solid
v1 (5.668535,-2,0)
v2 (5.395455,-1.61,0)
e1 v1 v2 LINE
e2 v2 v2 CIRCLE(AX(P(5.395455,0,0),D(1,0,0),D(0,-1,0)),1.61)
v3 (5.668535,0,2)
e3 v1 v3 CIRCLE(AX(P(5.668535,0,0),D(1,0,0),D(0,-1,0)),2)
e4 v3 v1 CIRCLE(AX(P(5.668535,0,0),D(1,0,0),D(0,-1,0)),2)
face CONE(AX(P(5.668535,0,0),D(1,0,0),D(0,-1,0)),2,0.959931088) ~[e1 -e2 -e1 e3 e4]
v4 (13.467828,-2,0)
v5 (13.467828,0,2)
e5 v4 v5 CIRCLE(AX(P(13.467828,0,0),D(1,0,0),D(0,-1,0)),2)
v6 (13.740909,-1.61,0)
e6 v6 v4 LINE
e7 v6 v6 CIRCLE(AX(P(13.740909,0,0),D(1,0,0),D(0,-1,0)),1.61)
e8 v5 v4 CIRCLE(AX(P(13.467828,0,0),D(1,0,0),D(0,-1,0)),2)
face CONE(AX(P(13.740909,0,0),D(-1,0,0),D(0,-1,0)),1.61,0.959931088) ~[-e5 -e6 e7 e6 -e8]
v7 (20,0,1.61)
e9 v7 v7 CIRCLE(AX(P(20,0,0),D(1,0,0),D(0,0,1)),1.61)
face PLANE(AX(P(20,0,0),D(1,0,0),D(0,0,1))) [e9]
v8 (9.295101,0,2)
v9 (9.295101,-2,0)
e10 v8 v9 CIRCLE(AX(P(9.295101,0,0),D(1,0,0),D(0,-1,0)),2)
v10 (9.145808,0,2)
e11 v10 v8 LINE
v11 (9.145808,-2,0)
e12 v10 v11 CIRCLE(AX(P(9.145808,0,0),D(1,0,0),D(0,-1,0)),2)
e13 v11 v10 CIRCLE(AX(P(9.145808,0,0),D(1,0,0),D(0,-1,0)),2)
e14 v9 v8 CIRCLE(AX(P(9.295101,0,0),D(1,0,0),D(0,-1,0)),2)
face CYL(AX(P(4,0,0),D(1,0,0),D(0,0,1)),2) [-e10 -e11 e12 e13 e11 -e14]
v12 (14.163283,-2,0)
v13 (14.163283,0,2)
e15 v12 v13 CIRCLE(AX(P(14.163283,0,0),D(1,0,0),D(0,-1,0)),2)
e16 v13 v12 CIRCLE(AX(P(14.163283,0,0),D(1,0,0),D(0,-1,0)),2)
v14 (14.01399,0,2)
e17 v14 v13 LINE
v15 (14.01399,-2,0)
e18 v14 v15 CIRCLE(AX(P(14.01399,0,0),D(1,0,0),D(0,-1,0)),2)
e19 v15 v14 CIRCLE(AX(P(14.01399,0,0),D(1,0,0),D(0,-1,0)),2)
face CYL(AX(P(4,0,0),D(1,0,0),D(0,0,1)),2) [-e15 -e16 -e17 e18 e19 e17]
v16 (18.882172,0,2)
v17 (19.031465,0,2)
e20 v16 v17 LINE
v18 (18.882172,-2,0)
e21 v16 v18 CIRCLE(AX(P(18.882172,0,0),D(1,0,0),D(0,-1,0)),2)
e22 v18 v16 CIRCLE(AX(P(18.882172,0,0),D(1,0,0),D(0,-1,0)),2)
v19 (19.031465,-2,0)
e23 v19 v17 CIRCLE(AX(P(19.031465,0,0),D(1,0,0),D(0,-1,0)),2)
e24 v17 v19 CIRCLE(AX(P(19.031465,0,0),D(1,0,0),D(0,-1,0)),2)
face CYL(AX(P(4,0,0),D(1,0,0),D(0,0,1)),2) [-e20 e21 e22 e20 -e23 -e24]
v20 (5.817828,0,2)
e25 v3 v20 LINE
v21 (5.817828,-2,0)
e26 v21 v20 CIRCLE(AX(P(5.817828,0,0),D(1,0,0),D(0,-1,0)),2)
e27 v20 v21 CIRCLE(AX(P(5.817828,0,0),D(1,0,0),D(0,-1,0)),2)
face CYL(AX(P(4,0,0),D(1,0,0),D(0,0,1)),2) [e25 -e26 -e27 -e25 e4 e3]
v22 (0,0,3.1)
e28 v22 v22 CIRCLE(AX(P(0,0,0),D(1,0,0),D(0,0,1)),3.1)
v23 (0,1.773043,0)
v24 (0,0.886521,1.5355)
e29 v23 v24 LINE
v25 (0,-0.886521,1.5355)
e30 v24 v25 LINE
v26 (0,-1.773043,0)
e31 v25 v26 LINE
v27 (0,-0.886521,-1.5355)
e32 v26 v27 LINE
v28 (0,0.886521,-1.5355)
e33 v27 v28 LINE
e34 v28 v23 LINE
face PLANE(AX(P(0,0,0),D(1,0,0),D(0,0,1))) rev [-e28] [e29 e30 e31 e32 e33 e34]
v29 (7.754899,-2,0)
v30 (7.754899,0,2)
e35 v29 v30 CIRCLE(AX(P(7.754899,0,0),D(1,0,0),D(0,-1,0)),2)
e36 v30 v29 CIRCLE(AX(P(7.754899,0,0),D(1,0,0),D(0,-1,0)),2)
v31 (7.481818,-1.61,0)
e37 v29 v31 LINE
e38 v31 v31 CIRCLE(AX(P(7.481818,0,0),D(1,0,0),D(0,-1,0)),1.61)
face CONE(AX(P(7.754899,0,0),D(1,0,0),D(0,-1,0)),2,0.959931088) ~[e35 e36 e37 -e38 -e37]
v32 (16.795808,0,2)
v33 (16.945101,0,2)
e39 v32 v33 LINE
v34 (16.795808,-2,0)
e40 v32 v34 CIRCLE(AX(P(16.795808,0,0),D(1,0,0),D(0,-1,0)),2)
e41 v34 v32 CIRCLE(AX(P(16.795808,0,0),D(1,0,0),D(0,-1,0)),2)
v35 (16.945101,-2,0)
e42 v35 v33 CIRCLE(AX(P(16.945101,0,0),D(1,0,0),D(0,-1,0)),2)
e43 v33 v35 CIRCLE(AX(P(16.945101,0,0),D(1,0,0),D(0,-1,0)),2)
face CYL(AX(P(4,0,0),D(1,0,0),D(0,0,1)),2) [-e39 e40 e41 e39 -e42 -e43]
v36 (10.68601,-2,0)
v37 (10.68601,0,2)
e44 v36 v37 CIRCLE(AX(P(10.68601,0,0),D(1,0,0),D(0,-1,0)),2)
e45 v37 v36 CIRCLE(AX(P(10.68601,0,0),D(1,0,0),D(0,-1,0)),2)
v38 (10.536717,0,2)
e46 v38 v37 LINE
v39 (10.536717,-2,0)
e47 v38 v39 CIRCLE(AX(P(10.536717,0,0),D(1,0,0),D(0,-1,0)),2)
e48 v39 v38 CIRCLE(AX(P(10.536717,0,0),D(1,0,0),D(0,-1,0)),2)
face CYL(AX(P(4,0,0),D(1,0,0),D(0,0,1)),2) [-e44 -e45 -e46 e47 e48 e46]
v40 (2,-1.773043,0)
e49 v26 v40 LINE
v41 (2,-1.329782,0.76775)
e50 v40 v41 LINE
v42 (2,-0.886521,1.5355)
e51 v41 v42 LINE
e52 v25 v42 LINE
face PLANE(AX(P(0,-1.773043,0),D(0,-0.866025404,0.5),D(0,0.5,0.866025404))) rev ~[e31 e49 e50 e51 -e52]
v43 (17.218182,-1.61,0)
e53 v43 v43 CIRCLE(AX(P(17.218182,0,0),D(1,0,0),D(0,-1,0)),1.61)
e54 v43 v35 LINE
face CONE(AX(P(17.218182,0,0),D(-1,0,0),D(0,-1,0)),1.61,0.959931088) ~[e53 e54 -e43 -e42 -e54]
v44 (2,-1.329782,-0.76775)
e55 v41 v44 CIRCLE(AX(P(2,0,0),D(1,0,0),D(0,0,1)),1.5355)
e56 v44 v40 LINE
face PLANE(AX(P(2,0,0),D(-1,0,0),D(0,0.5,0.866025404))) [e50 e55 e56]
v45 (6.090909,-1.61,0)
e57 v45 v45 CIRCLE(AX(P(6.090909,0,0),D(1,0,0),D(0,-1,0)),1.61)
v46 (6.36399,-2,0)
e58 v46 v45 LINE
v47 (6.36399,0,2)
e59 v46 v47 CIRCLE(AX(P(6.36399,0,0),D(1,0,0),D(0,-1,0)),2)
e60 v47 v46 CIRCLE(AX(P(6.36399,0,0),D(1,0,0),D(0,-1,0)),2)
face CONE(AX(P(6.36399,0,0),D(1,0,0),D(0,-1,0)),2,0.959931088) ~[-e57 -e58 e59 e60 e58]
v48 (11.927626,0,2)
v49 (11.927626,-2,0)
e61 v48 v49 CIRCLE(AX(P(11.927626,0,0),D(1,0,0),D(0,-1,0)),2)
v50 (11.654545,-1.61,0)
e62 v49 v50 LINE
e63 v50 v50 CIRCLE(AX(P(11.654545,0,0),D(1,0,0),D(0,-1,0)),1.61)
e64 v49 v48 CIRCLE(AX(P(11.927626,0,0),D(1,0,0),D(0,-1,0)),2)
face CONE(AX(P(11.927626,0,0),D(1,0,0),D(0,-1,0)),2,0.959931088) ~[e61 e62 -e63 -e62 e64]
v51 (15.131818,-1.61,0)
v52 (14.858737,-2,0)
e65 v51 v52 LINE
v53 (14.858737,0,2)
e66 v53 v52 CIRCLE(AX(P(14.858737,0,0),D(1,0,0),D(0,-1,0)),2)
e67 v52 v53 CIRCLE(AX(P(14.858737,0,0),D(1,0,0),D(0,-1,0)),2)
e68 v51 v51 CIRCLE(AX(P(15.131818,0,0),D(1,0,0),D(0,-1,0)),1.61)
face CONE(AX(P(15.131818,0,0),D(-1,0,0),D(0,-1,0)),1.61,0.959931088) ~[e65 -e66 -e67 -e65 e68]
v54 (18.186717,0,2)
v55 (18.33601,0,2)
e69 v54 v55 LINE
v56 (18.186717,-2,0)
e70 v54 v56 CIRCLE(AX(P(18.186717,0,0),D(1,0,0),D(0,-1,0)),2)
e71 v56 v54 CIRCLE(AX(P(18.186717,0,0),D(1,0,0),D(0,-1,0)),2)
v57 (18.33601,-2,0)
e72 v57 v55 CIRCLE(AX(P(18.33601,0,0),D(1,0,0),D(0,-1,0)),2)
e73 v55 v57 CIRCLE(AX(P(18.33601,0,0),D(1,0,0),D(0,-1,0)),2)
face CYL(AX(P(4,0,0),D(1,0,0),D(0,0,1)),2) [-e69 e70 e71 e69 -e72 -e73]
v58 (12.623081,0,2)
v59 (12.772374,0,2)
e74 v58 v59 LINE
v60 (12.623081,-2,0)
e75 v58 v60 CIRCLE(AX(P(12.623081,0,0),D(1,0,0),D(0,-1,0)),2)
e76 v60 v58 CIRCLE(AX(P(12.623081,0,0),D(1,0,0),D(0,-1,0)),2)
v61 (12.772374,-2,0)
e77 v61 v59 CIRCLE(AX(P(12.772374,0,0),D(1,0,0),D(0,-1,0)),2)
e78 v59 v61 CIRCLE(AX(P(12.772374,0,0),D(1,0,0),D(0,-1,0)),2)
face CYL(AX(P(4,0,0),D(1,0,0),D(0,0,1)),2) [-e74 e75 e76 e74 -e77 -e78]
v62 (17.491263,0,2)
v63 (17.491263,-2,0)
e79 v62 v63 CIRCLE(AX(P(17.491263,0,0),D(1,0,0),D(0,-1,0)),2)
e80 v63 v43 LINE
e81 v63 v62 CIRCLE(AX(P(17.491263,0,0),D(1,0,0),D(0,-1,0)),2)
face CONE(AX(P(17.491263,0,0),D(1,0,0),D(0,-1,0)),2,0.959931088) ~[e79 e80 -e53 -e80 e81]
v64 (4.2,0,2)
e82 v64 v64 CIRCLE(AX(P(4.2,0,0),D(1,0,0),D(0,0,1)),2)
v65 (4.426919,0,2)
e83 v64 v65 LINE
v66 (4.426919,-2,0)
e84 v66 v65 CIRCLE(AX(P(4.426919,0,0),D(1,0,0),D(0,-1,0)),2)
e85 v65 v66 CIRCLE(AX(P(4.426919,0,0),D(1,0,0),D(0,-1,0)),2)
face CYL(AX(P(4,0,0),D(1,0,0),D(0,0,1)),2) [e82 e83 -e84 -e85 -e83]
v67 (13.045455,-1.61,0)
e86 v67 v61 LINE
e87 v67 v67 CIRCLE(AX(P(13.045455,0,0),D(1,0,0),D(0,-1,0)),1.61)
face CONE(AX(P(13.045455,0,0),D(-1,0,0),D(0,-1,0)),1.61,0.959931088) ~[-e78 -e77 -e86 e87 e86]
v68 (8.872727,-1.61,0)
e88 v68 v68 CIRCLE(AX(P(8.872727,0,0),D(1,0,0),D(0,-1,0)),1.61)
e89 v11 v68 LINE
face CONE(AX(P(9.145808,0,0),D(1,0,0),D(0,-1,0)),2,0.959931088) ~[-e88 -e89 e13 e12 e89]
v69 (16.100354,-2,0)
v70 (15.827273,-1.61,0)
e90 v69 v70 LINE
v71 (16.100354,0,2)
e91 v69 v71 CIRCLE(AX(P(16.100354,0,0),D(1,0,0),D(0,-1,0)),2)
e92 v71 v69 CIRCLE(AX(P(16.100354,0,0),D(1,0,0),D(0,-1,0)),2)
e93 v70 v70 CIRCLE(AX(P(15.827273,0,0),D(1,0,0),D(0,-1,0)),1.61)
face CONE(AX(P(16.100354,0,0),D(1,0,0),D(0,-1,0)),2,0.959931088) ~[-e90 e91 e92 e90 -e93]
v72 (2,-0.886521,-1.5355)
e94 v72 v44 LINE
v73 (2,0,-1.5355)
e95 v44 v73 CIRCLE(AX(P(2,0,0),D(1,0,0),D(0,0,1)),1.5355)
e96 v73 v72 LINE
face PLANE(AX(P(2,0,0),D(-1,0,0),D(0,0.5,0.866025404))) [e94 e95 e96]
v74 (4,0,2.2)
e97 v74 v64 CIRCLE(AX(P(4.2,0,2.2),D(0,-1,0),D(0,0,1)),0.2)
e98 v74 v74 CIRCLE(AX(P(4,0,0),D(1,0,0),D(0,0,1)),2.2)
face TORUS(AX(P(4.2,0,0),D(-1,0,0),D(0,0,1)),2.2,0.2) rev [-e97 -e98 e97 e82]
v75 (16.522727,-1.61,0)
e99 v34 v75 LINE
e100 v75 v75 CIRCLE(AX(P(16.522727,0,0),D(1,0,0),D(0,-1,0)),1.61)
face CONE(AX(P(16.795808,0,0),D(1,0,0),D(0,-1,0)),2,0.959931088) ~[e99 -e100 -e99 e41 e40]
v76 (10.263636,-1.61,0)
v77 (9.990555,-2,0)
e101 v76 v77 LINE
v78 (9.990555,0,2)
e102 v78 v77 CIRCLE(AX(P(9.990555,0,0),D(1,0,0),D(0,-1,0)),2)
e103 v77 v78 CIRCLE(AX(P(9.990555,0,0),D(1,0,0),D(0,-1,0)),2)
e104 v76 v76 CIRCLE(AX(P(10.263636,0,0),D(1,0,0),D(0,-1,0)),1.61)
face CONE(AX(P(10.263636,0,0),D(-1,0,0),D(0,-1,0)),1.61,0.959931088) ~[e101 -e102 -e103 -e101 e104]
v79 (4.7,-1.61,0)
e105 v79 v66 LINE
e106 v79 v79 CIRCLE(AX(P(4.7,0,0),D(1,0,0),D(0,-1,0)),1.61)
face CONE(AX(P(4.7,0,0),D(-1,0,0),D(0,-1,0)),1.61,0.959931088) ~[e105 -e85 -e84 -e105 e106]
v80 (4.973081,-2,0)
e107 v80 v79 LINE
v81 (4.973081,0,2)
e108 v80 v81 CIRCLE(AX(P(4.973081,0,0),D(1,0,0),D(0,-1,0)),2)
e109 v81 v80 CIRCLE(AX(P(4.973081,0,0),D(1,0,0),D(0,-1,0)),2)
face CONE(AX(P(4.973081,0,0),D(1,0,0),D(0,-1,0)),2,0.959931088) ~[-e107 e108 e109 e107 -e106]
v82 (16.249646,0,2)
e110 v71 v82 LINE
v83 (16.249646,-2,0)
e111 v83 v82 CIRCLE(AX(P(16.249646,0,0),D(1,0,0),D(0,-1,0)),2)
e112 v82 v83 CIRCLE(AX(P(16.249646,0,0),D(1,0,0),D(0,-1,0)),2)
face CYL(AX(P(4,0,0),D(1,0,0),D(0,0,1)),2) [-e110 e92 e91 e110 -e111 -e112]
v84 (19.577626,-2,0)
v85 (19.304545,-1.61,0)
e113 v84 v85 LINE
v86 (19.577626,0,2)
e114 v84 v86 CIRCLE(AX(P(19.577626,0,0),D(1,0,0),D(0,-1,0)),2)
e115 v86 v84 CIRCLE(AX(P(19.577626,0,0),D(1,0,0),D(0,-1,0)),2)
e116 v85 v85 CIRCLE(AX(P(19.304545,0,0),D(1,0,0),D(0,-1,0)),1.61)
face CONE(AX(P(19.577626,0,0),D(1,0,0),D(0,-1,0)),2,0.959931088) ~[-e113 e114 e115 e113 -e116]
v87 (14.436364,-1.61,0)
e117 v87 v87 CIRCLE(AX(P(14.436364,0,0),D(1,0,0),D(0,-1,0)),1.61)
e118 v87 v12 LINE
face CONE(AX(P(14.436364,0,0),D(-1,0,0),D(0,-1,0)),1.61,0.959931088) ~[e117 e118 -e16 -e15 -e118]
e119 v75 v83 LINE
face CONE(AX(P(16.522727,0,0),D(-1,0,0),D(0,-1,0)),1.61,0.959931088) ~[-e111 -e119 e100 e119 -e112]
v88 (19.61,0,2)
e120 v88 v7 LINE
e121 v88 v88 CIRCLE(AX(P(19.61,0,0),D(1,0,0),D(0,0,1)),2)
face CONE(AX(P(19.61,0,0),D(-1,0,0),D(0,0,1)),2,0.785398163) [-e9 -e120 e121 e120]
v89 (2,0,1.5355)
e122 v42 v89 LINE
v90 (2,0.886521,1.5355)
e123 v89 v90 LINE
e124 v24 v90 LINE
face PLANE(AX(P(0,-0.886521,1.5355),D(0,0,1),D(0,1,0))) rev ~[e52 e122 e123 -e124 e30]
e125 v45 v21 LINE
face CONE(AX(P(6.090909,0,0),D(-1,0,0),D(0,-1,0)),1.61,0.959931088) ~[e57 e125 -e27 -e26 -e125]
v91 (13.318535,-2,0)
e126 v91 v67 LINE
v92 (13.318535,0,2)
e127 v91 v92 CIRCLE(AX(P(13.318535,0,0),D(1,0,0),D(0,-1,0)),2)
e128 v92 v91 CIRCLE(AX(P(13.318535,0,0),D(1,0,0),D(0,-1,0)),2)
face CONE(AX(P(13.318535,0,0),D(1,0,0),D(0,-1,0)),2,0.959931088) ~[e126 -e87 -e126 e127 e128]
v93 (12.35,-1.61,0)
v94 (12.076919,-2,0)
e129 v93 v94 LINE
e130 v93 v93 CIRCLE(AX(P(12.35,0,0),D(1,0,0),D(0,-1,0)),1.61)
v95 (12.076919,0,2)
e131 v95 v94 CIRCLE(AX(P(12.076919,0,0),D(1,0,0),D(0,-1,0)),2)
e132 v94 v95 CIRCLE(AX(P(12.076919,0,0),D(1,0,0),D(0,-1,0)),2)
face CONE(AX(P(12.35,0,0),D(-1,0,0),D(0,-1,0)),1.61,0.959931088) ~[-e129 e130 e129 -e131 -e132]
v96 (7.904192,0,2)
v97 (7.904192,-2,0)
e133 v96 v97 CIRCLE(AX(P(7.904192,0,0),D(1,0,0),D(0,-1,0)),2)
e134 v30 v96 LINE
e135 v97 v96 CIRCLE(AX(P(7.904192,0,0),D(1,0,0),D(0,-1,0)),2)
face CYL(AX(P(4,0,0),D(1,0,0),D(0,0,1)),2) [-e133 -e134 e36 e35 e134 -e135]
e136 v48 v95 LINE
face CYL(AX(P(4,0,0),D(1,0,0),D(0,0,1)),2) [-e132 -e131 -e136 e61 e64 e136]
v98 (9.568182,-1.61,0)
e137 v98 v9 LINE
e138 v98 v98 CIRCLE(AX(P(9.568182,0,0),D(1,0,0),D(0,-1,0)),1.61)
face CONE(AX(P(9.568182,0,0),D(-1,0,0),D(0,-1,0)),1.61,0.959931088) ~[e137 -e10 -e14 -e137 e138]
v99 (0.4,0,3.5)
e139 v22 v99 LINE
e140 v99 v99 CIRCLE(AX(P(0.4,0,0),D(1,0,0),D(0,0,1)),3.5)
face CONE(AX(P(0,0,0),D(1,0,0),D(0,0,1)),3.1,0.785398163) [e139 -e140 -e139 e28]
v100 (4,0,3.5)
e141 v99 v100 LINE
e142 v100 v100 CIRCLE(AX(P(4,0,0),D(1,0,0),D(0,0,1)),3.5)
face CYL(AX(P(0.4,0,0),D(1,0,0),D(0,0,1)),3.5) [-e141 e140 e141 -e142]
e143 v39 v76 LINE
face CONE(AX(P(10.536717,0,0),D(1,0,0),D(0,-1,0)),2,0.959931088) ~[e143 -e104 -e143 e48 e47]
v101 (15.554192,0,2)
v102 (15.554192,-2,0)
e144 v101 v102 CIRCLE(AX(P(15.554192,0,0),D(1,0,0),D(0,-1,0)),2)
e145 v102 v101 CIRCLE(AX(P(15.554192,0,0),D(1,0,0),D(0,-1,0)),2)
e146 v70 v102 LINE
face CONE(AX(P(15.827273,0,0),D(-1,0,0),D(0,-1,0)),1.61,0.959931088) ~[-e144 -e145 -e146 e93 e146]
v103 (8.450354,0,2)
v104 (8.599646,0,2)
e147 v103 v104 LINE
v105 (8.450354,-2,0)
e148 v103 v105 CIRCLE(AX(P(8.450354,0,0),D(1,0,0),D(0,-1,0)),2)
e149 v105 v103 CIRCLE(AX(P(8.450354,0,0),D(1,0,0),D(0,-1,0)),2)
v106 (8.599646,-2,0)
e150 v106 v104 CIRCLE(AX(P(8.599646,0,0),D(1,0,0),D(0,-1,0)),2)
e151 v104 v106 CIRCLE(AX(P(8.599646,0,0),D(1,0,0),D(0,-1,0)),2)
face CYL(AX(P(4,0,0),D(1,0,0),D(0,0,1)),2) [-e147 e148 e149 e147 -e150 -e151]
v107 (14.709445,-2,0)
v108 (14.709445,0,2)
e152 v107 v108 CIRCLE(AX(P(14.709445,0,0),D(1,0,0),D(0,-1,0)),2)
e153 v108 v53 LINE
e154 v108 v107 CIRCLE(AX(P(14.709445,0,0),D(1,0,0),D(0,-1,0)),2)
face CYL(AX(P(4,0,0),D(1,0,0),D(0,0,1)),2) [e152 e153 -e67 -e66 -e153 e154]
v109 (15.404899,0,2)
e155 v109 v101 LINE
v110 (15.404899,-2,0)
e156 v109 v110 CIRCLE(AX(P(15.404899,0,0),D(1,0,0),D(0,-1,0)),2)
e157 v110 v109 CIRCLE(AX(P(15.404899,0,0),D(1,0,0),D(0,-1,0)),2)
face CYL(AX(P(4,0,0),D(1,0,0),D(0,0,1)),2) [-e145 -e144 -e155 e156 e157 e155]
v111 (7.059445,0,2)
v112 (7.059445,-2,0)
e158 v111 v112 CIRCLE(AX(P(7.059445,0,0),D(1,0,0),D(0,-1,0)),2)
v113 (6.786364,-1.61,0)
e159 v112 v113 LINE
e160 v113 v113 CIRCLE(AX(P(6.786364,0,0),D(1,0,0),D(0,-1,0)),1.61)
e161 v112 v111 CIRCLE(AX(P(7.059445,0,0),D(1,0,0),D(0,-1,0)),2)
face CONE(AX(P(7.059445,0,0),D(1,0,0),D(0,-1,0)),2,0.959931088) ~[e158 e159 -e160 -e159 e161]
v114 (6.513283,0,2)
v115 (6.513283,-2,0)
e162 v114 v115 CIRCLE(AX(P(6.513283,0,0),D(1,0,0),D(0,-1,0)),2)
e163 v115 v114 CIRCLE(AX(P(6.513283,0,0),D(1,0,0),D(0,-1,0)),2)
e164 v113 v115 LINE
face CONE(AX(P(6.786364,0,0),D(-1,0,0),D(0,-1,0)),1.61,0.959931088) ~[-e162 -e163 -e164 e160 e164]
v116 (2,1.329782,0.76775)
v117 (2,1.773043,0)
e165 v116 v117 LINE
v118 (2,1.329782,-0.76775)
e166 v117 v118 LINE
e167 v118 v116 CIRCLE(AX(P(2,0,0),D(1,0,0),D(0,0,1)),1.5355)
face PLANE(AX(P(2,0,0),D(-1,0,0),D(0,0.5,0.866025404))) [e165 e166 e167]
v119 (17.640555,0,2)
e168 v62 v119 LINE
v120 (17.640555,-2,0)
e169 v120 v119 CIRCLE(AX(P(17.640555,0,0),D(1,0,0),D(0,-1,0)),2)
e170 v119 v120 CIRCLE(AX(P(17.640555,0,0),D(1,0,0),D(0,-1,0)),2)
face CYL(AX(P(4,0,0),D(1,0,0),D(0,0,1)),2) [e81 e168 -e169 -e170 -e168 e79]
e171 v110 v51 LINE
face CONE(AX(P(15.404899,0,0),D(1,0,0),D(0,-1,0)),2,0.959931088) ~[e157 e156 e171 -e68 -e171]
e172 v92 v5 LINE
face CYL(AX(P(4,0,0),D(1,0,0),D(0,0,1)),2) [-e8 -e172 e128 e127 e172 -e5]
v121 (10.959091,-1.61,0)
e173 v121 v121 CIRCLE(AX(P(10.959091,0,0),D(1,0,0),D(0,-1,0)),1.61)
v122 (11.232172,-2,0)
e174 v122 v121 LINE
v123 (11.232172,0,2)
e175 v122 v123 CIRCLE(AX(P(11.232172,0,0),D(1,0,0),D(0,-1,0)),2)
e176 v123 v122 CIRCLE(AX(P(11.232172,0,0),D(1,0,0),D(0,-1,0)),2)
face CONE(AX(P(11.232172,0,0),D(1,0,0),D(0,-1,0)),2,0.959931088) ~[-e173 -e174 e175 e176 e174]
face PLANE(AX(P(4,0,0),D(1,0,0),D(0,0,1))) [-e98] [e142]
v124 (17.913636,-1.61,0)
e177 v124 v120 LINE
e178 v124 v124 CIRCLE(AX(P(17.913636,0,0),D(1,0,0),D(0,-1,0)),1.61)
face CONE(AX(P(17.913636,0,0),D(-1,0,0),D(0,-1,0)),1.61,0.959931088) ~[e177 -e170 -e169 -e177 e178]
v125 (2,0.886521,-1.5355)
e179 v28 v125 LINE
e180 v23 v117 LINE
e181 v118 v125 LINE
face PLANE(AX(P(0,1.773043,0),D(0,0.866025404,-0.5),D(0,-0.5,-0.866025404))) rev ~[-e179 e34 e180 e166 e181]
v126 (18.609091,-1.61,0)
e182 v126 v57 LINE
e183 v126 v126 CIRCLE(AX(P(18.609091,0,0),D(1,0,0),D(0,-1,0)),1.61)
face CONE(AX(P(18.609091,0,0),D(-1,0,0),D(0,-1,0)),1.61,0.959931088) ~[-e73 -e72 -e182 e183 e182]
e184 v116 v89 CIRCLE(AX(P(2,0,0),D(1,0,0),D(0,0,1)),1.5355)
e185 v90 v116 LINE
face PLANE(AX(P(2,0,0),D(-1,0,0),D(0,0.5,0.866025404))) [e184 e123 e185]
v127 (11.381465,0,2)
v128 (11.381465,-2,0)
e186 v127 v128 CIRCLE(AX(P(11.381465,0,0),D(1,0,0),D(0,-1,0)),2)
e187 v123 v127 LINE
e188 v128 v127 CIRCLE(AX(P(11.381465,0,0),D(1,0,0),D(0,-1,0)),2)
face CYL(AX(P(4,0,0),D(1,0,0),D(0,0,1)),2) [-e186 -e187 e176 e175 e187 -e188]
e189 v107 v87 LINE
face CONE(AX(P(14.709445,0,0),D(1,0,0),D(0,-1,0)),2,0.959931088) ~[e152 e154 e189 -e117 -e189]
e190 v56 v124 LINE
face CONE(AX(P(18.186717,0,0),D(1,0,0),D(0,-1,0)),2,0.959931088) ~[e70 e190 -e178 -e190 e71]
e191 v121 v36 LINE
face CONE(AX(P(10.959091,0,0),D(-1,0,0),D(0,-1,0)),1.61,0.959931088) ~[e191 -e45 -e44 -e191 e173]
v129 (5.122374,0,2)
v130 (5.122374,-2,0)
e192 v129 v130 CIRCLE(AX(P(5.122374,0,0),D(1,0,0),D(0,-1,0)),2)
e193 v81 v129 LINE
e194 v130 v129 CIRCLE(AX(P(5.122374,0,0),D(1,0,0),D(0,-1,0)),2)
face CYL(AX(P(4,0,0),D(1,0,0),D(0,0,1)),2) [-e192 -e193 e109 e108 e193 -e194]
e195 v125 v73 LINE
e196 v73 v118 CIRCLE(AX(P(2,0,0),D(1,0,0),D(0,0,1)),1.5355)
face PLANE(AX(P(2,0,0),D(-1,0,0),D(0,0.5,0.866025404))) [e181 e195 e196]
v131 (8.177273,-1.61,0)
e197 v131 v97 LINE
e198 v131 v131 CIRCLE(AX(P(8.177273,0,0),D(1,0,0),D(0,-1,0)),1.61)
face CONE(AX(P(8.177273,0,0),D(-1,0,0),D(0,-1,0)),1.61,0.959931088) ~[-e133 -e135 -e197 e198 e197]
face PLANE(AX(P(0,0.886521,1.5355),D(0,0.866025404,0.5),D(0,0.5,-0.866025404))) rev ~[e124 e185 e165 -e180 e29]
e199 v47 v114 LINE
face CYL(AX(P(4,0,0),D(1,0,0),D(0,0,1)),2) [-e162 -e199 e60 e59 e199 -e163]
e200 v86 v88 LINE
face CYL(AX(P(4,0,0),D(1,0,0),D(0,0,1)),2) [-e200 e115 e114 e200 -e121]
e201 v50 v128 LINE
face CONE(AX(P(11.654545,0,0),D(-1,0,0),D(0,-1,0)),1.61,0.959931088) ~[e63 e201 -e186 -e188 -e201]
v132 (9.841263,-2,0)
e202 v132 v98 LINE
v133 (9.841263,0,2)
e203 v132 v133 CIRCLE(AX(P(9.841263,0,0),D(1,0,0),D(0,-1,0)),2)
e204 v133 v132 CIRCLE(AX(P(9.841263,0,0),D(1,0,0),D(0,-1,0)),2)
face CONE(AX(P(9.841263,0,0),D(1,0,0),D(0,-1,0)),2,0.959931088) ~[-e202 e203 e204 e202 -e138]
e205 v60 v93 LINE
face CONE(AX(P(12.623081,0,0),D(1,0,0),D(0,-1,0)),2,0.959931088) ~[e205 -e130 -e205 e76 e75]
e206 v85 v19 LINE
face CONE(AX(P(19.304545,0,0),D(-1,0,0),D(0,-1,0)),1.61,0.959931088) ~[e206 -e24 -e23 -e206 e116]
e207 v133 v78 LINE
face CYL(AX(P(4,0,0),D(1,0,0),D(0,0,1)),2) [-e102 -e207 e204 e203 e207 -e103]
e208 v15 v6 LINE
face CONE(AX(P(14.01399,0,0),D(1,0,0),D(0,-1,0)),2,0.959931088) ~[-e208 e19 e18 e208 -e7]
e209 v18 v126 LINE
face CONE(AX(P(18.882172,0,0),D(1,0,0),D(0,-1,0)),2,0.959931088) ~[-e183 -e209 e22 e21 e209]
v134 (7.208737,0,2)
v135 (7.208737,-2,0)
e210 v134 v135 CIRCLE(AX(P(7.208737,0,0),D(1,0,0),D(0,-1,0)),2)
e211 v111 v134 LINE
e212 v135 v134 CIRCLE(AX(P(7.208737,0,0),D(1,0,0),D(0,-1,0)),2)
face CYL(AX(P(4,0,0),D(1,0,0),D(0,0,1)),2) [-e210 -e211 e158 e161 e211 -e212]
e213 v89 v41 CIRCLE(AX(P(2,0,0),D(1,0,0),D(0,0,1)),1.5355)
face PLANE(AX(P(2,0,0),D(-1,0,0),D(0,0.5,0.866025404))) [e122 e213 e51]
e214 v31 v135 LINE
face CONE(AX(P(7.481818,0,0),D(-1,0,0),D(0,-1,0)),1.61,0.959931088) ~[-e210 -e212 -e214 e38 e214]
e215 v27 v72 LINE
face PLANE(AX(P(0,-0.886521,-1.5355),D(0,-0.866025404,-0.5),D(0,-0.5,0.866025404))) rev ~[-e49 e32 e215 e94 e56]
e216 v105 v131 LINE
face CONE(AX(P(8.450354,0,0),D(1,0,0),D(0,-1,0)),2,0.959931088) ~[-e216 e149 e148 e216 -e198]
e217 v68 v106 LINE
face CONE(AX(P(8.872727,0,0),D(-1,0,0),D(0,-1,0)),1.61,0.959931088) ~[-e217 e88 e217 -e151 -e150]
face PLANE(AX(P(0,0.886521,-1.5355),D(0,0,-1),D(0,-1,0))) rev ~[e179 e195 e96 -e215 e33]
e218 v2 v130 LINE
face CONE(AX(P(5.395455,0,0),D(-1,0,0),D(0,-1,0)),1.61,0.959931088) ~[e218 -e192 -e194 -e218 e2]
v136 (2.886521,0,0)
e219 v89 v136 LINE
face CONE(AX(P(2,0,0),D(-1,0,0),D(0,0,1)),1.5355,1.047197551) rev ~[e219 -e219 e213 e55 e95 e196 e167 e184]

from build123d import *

# Parameters (mm, degrees)
FILLET1_R       = 0.2
HEX_2_DEPTH     = 2
THDSCHPAT_COUNT = 22
THDSCHPAT_PITCH = 0.695454545


with BuildPart() as part:
    # BodySke → Base-Revolve (revolve)
    with BuildSketch(Plane.XY, mode=Mode.PRIVATE) as base_revolve_sk:
        Polygon((0, 0), (0, 3.1), (0.4, 3.5), (4, 3.5), (4, 2), (19.61, 2), (20, 1.61), (20, 0), align=None)
    revolve(base_revolve_sk.sketch.rotate(Axis((-31.75, 0, 0), (1, 0, 0)), 90), axis=Axis((-31.75, 0, 0), (1, 0, 0)))

    # Fillet1
    fillet1_edges = [part.edges().sort_by_distance(p)[0] for p in [
        (4, 0, -2),
    ]]
    fillet(fillet1_edges, radius=FILLET1_R)

    # Sketch2 → Hex-PreBroach (revolve, cut)
    with BuildSketch(Plane.XY, mode=Mode.PRIVATE) as hex_prebroach_sk:
        Polygon((0, 1.5355), (2, 1.5355), (2.886521338, 0), (0, 0), align=None)
    revolve(hex_prebroach_sk.sketch.rotate(Axis((0, 0, 0), (1, 0, 0)), 90), axis=Axis((0, 0, 0), (1, 0, 0)), mode=Mode.SUBTRACT)

    # Sketch3 → Hex 2 (cut)
    with BuildSketch(Plane(origin=(0, 0, 0), x_dir=(0, 0.500000000000001, 0.866025403784438), z_dir=(-1, 0, 0))):
        Polygon((0.886521338, 1.5355), (-0.886521338, 1.5355), (-1.773042677, 0), (-0.886521338, -1.5355), (0.886521338, -1.5355), (1.773042677, 0), align=None)
    extrude(amount=-HEX_2_DEPTH, mode=Mode.SUBTRACT)

    # ThdSchSke → ThreadSchematic (revolve, cut)
    with BuildSketch(Plane.XY):
        Polygon((4.7, -1.61), (4.42691906, -2), (4.42691906, -2.5), (4.97308094, -2.5), (4.97308094, -2), align=None)
    threadschematic = revolve(axis=Axis((-3.175, 0, 0), (1, 0, 0)), mode=Mode.SUBTRACT)

    # ThdSchPat: ThreadSchematic ×22
    with Locations(*[(i * THDSCHPAT_PITCH, 0, 0) for i in range(1, THDSCHPAT_COUNT)]):
        add(threadschematic, mode=Mode.SUBTRACT)


solid = part.part
